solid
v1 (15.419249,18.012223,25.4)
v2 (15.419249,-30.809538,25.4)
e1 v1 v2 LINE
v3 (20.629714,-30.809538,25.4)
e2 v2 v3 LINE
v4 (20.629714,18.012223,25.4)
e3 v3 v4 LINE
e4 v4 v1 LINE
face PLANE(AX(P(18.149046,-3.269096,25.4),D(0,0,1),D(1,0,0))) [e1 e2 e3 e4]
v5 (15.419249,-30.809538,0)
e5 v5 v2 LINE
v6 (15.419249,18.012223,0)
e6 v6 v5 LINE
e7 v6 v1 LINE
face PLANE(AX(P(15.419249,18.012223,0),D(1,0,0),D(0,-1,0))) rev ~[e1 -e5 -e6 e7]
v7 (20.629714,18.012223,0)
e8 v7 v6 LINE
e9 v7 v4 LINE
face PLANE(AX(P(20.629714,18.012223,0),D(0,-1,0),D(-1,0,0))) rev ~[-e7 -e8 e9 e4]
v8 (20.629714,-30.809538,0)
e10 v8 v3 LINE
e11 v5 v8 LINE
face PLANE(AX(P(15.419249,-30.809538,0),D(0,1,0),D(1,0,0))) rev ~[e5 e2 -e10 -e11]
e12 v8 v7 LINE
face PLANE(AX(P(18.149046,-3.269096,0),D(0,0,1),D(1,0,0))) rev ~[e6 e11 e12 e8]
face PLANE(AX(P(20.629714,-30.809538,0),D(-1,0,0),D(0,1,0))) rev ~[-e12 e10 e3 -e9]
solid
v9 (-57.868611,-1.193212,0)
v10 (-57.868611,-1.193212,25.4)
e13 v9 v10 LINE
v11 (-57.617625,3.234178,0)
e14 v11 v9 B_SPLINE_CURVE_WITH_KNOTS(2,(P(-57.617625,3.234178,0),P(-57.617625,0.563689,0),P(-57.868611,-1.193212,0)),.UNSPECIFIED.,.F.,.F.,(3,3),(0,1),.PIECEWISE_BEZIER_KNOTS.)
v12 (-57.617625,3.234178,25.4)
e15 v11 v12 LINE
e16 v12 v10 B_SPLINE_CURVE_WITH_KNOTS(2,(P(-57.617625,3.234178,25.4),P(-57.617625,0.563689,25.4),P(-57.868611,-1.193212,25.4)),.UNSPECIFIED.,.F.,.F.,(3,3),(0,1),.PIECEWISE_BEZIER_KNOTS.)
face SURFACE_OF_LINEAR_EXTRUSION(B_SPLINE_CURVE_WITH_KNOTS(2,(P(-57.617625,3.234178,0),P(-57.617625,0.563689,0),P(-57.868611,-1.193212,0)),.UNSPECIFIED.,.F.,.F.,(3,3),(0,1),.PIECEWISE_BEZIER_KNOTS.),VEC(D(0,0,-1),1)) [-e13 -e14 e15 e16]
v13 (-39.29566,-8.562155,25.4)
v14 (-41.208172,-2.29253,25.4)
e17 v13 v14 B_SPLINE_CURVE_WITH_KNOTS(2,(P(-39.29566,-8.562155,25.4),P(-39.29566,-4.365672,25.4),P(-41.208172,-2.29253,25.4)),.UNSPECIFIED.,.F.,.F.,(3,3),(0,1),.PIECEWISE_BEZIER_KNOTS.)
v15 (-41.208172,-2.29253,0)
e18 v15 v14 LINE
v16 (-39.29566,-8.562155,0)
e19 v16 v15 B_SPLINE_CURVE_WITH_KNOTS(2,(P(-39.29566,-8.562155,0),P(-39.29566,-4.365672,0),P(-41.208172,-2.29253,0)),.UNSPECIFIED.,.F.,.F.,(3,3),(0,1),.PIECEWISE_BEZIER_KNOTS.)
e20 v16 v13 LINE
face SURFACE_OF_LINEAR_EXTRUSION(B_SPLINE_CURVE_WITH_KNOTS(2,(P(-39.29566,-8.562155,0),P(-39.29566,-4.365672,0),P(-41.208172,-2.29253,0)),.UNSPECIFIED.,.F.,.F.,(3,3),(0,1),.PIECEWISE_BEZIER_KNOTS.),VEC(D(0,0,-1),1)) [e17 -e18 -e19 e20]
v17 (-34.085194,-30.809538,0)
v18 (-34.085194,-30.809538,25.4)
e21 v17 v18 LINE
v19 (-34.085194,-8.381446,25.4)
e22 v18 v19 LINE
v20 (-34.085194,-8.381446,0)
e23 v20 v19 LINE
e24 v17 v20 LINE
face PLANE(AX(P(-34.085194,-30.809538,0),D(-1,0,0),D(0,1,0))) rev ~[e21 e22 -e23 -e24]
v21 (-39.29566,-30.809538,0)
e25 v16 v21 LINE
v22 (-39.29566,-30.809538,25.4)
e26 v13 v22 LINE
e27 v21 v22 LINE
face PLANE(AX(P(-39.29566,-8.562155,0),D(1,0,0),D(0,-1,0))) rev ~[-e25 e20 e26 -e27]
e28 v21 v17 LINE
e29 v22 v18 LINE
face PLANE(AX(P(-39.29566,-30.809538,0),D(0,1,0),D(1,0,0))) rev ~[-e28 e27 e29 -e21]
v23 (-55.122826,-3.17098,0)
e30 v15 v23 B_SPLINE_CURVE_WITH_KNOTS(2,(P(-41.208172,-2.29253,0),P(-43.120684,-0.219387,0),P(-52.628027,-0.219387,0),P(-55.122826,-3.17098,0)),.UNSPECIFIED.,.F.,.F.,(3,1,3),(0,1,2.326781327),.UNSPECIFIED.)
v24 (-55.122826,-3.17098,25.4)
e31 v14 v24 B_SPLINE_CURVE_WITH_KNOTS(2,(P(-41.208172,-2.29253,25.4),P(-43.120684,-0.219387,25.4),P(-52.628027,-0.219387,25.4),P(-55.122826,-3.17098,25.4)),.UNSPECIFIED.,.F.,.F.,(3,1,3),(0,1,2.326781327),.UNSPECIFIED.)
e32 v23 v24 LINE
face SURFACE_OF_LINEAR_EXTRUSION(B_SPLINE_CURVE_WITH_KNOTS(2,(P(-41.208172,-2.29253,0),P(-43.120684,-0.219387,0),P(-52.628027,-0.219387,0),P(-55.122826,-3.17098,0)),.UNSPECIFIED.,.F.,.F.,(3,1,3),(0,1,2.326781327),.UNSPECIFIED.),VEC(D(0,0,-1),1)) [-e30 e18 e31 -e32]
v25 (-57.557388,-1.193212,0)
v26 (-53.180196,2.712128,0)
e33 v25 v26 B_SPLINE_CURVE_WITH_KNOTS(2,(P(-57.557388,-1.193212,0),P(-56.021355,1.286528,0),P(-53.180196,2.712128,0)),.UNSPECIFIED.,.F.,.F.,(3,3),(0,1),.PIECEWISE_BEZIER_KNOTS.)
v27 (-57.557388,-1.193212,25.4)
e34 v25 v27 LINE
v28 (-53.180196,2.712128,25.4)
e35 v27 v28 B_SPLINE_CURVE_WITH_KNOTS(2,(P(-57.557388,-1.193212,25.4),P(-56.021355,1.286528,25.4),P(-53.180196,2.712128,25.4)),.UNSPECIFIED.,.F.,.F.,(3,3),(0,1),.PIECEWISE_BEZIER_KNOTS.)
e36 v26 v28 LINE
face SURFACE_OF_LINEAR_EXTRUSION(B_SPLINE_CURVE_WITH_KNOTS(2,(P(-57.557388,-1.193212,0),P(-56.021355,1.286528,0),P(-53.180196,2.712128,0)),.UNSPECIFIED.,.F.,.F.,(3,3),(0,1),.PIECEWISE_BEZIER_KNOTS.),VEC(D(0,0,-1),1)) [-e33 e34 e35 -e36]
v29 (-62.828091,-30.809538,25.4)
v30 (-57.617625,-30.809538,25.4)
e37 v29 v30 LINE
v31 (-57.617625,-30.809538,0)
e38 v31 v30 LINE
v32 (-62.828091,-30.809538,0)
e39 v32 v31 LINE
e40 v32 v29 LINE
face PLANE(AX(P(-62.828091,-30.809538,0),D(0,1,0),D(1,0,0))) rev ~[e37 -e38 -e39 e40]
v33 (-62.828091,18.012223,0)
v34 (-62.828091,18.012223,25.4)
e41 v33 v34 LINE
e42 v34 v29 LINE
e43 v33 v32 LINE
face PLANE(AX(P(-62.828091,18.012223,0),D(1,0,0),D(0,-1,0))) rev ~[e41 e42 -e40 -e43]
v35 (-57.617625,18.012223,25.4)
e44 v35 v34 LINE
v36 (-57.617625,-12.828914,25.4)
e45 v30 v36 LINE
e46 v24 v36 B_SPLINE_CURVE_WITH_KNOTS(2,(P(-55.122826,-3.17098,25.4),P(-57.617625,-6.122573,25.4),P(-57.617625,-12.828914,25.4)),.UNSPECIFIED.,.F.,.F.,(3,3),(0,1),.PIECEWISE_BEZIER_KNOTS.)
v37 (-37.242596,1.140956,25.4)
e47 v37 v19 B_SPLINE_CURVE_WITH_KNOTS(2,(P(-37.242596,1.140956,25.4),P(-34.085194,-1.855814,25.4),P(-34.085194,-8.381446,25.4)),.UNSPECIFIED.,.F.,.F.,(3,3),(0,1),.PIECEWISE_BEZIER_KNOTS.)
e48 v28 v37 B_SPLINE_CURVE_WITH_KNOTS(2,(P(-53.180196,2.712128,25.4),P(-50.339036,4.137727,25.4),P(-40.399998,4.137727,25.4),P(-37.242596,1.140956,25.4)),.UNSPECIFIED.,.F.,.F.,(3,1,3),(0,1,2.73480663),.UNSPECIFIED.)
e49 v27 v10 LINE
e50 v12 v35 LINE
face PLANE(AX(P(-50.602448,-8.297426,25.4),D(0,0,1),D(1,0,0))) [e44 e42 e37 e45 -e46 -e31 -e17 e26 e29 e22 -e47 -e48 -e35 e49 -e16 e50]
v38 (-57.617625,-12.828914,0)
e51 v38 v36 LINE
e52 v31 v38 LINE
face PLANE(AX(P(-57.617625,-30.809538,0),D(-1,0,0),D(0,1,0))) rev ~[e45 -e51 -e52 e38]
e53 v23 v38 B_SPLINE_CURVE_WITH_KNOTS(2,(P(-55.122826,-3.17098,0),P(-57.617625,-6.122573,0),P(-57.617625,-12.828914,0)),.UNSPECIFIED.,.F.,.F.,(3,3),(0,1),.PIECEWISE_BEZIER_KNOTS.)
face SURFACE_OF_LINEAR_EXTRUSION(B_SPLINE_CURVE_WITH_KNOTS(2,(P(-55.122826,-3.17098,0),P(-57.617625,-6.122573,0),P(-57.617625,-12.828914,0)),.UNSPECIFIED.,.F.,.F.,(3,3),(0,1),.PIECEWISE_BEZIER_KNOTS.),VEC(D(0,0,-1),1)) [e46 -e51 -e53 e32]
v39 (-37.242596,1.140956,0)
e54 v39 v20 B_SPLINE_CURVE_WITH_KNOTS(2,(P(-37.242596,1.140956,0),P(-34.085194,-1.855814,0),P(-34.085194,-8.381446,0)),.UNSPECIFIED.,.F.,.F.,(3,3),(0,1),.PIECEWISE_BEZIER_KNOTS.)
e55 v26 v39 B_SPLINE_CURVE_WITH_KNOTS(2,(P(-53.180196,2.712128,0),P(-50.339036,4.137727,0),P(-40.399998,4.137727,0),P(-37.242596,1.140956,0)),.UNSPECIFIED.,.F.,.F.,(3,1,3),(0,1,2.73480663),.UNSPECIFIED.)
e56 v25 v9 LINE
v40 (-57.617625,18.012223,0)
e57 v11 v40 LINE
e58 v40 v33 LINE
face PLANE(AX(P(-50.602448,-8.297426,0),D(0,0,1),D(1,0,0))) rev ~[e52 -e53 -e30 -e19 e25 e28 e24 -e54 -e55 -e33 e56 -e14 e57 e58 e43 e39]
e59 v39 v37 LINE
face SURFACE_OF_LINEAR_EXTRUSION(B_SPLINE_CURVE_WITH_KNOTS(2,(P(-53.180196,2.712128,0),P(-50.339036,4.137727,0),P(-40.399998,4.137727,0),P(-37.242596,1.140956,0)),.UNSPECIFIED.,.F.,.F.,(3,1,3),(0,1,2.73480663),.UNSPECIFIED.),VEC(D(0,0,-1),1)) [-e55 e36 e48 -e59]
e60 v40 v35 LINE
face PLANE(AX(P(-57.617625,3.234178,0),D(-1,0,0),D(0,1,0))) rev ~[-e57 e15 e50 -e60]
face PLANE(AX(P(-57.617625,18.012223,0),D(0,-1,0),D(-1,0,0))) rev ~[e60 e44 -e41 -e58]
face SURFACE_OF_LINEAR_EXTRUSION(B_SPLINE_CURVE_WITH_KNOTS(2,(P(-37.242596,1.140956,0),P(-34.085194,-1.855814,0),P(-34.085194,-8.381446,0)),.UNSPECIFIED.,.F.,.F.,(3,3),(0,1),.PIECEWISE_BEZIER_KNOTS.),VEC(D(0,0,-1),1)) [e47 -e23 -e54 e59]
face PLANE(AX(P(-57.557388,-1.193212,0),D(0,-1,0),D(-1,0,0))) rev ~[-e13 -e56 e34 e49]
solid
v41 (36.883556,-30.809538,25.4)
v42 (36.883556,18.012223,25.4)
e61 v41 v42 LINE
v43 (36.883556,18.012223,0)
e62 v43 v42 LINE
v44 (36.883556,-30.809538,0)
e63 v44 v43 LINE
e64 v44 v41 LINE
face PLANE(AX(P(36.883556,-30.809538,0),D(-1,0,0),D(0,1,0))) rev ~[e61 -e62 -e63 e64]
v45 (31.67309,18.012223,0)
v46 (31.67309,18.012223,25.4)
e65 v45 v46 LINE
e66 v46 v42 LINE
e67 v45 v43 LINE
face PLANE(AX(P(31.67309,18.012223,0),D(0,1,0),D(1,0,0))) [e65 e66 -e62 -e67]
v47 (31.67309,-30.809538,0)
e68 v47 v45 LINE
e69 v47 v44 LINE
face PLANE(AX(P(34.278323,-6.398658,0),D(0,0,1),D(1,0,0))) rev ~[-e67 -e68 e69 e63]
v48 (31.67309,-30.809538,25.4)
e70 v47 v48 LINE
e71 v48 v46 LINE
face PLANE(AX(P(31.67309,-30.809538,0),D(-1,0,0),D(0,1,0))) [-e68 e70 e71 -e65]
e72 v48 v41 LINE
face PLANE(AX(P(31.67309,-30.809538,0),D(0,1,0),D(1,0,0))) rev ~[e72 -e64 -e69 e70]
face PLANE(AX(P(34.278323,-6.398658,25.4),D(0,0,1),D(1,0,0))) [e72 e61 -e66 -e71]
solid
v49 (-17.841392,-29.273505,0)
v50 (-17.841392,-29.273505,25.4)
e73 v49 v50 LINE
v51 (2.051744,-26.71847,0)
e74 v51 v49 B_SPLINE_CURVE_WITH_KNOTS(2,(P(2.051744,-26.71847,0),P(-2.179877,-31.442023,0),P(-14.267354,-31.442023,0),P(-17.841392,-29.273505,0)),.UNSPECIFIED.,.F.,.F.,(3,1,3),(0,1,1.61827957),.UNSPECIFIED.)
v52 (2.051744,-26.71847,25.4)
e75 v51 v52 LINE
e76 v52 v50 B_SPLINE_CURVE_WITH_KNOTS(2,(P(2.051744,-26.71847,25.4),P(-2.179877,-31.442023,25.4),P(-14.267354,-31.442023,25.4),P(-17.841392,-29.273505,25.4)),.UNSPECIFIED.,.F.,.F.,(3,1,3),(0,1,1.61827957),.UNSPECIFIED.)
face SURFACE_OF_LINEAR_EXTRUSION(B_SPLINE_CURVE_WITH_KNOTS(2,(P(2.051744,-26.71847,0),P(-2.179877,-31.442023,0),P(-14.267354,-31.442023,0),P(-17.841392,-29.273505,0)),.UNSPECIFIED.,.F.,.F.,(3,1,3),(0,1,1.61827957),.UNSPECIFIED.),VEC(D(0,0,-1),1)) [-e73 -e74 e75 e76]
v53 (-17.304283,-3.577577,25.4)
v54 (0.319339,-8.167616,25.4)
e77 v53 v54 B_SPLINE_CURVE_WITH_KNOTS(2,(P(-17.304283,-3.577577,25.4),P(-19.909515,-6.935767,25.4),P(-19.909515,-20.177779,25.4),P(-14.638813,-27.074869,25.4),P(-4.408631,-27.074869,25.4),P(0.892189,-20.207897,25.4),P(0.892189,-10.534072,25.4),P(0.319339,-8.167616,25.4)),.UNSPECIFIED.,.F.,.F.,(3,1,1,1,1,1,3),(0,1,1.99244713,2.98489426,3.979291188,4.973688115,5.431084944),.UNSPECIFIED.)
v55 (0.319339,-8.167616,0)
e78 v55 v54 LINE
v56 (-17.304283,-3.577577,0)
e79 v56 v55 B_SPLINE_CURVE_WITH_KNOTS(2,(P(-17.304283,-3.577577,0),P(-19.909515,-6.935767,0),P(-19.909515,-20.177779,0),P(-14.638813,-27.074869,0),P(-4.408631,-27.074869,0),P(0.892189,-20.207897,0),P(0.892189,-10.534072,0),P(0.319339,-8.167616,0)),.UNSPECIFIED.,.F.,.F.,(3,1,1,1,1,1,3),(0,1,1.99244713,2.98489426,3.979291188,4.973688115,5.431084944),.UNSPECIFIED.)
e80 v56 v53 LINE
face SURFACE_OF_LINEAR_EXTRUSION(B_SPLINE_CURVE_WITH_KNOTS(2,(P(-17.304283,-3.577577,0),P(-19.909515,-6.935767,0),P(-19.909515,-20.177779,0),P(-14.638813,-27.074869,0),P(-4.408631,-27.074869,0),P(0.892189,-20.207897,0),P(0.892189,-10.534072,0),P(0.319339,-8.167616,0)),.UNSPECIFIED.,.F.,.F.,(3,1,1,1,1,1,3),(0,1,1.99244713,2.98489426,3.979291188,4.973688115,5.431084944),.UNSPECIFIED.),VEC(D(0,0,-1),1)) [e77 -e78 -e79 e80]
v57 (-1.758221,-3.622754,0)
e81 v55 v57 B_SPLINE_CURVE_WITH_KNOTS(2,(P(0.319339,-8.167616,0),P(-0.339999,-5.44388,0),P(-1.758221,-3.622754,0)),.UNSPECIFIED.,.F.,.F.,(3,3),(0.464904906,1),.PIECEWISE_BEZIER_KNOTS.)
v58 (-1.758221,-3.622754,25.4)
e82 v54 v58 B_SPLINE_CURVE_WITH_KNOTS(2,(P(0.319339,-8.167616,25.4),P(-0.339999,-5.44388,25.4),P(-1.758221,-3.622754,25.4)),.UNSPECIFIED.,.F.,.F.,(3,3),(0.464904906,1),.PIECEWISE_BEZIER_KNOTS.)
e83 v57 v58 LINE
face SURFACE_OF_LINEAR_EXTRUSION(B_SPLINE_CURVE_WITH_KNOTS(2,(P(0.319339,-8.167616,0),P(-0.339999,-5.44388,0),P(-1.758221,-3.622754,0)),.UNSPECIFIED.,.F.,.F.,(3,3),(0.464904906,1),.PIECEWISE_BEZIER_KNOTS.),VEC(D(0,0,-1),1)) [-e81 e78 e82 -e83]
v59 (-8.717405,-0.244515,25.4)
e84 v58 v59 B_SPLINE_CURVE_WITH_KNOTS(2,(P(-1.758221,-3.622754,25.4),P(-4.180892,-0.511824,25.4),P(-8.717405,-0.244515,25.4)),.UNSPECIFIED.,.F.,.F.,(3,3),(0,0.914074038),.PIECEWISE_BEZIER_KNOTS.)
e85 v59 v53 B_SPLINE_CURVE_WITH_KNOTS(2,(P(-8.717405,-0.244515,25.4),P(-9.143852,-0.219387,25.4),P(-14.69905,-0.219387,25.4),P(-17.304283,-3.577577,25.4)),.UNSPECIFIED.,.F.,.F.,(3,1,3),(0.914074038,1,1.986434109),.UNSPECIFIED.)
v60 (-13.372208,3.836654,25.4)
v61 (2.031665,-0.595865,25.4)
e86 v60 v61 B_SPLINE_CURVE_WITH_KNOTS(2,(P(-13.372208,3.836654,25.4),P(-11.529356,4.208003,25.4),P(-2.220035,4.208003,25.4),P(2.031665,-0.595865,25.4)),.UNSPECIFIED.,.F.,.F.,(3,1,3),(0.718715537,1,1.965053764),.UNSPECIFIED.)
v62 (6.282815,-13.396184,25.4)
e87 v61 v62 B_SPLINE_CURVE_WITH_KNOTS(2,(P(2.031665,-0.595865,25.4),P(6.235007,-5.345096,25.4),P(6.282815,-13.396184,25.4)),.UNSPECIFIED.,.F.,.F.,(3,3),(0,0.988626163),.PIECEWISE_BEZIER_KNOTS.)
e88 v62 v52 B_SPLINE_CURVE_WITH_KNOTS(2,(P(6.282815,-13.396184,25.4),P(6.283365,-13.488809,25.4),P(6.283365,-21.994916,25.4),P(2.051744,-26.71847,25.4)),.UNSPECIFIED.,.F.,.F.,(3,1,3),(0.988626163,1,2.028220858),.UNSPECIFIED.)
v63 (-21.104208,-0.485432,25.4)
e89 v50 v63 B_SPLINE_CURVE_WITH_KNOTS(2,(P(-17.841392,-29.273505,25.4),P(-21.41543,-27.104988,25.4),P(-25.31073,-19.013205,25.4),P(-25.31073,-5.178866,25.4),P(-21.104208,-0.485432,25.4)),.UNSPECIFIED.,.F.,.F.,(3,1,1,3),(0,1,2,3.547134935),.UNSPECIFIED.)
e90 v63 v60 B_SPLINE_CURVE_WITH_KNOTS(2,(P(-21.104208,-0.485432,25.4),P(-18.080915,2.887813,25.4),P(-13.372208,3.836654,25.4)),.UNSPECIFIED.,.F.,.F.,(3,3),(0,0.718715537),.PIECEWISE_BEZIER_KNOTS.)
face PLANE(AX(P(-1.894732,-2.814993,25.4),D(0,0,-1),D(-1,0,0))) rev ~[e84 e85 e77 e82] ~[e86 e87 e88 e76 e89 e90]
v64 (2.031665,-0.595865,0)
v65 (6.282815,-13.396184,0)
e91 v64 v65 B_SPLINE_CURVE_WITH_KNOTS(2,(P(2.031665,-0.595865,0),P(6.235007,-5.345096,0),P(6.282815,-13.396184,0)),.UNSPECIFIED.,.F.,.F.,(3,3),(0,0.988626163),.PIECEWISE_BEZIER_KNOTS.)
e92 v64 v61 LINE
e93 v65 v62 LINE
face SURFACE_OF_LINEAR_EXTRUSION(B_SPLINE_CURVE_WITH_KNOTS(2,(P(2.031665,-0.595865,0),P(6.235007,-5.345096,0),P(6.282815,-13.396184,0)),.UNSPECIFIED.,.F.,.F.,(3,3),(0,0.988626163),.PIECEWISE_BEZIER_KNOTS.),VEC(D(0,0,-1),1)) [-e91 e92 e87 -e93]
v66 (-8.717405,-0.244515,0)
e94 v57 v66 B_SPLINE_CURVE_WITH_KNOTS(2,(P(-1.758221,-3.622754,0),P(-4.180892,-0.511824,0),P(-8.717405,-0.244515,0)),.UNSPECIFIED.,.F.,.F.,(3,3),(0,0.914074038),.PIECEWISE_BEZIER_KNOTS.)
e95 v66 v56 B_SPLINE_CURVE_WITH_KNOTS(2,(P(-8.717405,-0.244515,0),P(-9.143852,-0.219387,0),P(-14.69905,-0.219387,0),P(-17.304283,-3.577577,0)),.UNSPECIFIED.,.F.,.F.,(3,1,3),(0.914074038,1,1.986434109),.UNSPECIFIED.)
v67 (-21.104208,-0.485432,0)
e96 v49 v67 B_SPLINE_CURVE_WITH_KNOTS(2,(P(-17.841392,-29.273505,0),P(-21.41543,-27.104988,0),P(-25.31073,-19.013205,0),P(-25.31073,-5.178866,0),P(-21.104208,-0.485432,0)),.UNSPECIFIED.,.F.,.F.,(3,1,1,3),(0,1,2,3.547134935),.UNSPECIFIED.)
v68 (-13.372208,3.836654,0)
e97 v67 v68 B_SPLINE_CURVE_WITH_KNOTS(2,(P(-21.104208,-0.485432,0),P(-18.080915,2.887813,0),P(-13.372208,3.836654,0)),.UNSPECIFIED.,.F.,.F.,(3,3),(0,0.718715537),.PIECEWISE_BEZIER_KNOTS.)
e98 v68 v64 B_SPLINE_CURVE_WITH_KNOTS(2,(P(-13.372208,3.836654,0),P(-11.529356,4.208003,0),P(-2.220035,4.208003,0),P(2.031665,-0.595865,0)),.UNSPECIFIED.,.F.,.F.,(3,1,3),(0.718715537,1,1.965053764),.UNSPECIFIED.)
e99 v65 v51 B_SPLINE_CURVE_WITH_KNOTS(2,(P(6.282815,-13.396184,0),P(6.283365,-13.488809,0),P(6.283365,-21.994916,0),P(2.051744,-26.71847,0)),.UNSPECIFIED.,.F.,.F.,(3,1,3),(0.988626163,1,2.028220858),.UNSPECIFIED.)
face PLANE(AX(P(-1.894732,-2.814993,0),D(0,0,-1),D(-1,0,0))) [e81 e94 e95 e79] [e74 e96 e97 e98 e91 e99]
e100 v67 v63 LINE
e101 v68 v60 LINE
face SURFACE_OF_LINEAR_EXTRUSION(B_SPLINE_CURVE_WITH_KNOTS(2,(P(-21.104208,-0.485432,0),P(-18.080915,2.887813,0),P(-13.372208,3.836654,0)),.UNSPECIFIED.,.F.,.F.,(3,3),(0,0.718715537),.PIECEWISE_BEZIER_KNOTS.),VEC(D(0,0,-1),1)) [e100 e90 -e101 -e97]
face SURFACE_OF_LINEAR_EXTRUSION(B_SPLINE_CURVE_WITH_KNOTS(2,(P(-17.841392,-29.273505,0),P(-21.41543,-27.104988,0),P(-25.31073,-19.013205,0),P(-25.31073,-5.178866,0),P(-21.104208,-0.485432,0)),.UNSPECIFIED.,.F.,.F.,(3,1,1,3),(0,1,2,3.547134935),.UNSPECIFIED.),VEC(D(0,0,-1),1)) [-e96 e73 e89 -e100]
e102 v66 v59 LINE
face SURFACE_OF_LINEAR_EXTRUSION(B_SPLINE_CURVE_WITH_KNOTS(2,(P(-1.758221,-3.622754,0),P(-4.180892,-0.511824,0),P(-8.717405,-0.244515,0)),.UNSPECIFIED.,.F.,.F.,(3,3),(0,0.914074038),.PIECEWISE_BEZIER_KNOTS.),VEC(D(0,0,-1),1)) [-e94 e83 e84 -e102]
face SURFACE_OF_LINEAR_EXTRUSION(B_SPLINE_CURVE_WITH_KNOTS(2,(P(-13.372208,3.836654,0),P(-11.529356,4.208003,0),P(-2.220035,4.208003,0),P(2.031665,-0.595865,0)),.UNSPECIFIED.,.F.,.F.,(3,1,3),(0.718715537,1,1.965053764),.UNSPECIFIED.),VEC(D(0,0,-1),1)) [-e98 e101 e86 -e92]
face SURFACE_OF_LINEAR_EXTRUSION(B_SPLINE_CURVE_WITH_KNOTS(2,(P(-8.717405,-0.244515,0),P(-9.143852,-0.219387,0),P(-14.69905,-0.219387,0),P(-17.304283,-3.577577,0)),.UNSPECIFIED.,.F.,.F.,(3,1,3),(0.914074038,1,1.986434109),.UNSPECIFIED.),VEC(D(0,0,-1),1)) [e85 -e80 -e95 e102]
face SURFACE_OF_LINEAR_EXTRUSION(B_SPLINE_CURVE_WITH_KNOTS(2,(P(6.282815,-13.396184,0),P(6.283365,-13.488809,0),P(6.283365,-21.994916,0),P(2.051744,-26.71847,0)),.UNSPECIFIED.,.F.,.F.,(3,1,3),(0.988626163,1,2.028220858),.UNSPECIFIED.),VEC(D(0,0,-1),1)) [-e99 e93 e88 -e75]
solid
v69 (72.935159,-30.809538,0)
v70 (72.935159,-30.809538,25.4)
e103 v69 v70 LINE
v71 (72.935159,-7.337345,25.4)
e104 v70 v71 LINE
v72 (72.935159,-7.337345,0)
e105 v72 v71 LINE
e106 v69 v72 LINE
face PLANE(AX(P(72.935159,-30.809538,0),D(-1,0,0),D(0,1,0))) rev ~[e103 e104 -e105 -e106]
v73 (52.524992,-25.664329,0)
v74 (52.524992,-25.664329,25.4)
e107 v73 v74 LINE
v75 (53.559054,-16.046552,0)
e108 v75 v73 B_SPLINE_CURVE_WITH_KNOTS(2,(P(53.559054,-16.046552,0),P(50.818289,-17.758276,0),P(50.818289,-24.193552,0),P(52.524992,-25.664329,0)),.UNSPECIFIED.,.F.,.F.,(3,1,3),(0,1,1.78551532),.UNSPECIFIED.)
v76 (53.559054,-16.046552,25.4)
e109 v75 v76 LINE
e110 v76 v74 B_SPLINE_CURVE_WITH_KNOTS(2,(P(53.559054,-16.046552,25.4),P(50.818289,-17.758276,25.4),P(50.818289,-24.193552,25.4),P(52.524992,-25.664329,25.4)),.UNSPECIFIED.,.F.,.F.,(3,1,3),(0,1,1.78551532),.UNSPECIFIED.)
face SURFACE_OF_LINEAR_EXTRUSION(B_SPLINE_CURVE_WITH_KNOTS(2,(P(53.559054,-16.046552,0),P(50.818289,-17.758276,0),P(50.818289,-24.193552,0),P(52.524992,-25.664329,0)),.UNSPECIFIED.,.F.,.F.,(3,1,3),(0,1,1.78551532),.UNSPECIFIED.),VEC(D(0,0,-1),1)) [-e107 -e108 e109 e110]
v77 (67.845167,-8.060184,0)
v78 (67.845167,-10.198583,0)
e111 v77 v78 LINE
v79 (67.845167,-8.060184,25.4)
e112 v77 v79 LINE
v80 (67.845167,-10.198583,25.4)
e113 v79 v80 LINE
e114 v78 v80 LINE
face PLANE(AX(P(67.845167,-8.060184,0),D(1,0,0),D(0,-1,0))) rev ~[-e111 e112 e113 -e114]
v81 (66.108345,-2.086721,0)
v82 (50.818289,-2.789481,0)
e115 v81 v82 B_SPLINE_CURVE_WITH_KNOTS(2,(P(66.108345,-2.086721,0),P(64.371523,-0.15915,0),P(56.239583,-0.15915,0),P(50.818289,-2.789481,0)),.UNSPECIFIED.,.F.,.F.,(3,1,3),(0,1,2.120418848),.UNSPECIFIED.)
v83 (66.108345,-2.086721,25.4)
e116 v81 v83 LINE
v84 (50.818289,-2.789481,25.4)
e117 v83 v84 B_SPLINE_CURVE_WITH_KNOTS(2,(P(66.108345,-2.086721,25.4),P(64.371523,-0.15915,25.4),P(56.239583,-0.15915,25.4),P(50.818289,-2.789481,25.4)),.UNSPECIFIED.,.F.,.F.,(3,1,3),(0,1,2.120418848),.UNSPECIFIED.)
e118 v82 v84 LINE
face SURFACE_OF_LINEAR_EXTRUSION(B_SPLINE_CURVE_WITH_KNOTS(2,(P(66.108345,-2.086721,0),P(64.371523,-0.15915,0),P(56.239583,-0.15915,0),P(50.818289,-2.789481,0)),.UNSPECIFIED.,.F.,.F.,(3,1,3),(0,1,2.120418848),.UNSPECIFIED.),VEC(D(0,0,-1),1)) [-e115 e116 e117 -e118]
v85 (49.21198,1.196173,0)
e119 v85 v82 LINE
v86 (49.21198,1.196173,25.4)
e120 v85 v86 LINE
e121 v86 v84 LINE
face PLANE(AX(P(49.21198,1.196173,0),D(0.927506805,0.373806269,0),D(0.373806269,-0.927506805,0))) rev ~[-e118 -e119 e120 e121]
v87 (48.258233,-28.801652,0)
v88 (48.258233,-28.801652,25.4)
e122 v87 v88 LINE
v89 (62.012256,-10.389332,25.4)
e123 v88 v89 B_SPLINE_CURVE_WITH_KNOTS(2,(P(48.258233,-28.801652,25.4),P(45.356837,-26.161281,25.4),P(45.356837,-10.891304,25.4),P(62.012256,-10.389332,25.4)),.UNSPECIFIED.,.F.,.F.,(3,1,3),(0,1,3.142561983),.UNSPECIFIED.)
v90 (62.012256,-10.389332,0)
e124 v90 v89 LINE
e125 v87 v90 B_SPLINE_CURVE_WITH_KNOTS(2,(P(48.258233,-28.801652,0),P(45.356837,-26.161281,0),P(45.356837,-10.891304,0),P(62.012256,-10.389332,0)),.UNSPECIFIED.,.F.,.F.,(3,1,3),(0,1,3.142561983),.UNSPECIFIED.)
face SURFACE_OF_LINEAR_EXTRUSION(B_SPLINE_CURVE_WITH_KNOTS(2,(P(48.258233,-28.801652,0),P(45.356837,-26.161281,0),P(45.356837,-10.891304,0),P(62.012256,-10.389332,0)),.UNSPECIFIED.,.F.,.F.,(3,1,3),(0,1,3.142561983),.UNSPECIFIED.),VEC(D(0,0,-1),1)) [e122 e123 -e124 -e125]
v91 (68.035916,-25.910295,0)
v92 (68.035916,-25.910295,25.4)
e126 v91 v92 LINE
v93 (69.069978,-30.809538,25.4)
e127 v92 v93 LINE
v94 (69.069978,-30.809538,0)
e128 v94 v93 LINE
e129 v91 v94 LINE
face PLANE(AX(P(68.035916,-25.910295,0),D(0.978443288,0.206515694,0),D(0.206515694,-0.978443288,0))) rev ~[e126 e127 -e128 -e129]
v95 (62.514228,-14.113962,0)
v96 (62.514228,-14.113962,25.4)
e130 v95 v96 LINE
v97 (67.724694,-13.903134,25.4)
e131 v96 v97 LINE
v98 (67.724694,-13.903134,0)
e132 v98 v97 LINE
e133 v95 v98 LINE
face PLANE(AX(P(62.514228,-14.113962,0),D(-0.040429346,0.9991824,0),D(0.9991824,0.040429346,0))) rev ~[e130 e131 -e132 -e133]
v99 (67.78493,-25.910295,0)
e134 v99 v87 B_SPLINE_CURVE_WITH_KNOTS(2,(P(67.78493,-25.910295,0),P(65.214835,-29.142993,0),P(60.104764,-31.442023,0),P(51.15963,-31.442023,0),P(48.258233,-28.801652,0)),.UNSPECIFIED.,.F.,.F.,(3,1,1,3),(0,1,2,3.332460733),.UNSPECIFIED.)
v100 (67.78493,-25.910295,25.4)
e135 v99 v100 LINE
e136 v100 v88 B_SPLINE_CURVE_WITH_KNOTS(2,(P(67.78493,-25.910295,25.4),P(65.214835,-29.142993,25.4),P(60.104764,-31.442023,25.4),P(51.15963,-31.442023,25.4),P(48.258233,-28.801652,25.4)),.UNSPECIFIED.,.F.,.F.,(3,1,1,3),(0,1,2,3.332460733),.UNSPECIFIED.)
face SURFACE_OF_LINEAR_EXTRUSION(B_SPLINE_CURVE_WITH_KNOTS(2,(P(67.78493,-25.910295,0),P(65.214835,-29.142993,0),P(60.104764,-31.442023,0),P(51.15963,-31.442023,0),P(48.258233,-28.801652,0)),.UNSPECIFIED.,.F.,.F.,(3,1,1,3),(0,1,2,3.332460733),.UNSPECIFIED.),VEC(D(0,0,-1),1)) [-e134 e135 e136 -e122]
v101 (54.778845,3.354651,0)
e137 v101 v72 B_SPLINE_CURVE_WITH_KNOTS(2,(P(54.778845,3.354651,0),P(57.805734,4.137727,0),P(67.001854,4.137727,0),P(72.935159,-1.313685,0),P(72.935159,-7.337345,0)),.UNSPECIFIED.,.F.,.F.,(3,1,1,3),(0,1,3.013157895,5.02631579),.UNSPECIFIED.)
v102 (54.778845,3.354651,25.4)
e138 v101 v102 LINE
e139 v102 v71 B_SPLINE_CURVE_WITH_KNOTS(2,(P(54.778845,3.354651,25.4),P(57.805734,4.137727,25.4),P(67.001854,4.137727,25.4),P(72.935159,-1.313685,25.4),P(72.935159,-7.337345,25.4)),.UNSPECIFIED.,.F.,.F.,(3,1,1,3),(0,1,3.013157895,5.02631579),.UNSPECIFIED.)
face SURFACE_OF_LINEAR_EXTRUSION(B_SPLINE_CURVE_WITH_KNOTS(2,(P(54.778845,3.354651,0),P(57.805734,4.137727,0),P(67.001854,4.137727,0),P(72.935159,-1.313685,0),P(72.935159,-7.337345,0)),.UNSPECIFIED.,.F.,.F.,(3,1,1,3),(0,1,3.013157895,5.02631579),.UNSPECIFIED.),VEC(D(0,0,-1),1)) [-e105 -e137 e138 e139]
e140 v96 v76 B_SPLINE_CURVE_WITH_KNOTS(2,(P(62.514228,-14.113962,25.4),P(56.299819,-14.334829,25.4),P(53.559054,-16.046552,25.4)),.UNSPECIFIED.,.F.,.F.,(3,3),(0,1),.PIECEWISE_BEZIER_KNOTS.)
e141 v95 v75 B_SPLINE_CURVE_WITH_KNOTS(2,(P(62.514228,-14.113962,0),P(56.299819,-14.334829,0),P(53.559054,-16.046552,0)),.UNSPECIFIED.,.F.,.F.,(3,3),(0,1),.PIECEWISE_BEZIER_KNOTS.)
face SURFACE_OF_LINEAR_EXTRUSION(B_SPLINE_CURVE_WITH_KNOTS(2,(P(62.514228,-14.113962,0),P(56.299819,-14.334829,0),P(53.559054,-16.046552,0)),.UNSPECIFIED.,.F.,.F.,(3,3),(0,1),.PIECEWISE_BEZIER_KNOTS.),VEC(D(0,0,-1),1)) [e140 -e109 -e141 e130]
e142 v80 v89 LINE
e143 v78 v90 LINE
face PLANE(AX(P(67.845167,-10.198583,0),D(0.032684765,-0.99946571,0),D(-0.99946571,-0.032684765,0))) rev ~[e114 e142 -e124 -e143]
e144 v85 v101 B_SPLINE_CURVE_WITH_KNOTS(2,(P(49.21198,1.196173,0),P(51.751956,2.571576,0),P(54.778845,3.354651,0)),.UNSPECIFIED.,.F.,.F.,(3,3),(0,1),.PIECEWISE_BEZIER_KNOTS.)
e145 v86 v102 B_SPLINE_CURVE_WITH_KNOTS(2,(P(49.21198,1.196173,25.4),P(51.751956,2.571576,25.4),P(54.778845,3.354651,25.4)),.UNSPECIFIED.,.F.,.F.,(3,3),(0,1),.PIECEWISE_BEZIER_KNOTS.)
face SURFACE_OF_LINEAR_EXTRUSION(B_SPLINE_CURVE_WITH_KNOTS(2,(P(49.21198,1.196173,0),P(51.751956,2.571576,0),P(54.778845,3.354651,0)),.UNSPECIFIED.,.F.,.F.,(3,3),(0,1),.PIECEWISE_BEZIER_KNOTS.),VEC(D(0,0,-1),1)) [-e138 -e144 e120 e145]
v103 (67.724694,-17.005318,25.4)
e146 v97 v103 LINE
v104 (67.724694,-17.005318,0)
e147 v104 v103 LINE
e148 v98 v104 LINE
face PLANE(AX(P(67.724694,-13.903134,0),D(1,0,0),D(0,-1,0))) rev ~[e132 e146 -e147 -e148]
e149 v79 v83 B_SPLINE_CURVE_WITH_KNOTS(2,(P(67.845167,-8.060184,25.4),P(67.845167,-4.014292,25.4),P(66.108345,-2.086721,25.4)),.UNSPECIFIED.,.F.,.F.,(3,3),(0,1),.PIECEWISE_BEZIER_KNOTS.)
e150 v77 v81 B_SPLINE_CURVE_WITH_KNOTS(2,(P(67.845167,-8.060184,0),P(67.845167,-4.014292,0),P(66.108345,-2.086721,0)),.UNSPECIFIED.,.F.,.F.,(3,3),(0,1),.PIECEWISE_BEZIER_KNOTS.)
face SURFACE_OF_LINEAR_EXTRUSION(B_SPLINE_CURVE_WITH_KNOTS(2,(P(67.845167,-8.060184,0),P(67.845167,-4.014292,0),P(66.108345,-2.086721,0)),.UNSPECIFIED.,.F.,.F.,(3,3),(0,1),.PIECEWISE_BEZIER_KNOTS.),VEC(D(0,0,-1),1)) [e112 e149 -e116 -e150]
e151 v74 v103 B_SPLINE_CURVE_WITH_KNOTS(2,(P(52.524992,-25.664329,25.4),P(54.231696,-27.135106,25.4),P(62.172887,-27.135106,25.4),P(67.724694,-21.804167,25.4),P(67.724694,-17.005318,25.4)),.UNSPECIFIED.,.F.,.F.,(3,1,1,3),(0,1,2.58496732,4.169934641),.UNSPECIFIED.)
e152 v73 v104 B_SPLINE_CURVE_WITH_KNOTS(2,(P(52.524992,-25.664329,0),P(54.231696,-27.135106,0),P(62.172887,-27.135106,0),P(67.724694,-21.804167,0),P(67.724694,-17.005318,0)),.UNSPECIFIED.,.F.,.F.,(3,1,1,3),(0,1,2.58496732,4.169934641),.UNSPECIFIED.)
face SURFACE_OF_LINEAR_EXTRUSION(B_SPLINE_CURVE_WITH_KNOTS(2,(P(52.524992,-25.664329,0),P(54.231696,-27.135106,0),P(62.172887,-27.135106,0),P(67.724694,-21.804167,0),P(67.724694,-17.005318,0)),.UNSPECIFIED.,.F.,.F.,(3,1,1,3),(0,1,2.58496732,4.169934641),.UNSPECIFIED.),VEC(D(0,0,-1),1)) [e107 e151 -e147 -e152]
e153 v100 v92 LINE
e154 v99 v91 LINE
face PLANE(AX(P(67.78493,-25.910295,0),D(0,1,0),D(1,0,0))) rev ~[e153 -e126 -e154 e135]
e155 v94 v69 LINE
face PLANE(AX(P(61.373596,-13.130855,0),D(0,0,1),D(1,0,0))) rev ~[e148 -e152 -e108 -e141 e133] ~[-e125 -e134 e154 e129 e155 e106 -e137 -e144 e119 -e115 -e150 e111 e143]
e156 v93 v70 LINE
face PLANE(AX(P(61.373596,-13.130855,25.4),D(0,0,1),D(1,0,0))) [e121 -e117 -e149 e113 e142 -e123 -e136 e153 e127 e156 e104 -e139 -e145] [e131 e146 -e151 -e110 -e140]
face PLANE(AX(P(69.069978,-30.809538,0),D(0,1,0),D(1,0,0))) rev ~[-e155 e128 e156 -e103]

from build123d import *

# Parameters (mm, degrees)
F0_W     = 5.2104656285
F0_H     = 48.8217617561
F1_DEPTH = 25.4


with BuildPart() as f1:
    # F0 (on Top) → F1 (new body)
    with BuildSketch(Plane.XY):
        with BuildLine():
            add(Edge.make_bspline(
                [(-13.3722078844, 3.8366541831), (-11.5293562231, 4.2080032031), (-9.428347489, 4.2080032031)],
                knots=[0.7187155366, 0.7187155366, 0.7187155366, 1, 1, 1], degree=2))
            Line((-13.3722078844, 3.8366541831), (-8.7174049676, -0.2445146523))
            add(Edge.make_bspline(
                [(-1.758220822, -3.6227543888), (-4.180892032, -0.5118243123), (-8.7174049676, -0.2445146523)],
                knots=[0, 0, 0, 0.9140740378, 0.9140740378, 0.9140740378], degree=2))
            add(Edge.make_bspline(
                [(0.3193388525, -8.1676164271), (-0.3399992938, -5.4438797604), (-1.758220822, -3.6227543888)],
                knots=[0.464904906, 0.464904906, 0.464904906, 1, 1, 1], degree=2))
            Line((0.3193388525, -8.1676164271), (6.2828148414, -13.3961841648))
            add(Edge.make_bspline(
                [(2.0316650638, -0.5958653966), (6.2350067194, -5.3450955788), (6.2828148414, -13.3961841648)],
                knots=[0, 0, 0, 0.9886261632, 0.9886261632, 0.9886261632], degree=2))
            add(Edge.make_bspline(
                [(-9.428347489, 4.2080032031), (-2.2200347313, 4.2080032031), (2.0316650638, -0.5958653966)],
                knots=[0, 0, 0, 1, 1, 1], degree=2))
        make_face()
        with BuildLine():
            Line((-8.7174049676, -0.2445146523), (-13.3722078844, 3.8366541831))
            add(Edge.make_bspline(
                [(-21.1042078473, -0.4854316357), (-18.080914881, 2.8878129032), (-13.3722078844, 3.8366541831)],
                knots=[0, 0, 0, 0.7187155366, 0.7187155366, 0.7187155366], degree=2))
            add(Edge.make_bspline(
                [(-25.3107301948, -13.5818717366), (-25.3107301948, -5.1788664744), (-21.1042078473, -0.4854316357)],
                knots=[0, 0, 0, 1, 1, 1], degree=2))
            add(Edge.make_bspline(
                [(-23.3630802296, -23.0590963094), (-25.3107301948, -19.0132048869), (-25.3107301948, -13.5818717366)],
                knots=[0, 0, 0, 1, 1, 1], degree=2))
            add(Edge.make_bspline(
                [(-17.841392184, -29.273505219), (-21.4154302644, -27.1049877319), (-23.3630802296, -23.0590963094)],
                knots=[0, 0, 0, 1, 1, 1], degree=2))
            add(Edge.make_bspline(
                [(-9.6492150108, -31.442022706), (-14.2673541035, -31.442022706), (-17.841392184, -29.273505219)],
                knots=[0, 0, 0, 1, 1, 1], degree=2))
            add(Edge.make_bspline(
                [(2.0517439295, -26.7184695688), (-2.179877, -31.442022706), (-9.6492150108, -31.442022706)],
                knots=[0, 0, 0, 1, 1, 1], degree=2))
            add(Edge.make_bspline(
                [(6.283364859, -13.5818717366), (6.283364859, -21.9949164315), (2.0517439295, -26.7184695688)],
                knots=[0, 0, 0, 1, 1, 1], degree=2))
            add(Edge.make_bspline(
                [(6.2828148414, -13.3961841648), (6.283364859, -13.4888094372), (6.283364859, -13.5818717366)],
                knots=[0.9886261632, 0.9886261632, 0.9886261632, 1, 1, 1], degree=2))
            Line((6.2828148414, -13.3961841648), (0.3193388525, -8.1676164271))
            add(Edge.make_bspline(
                [(0.8921894399, -13.5818717366), (0.8921894399, -10.5340715734), (0.3193388525, -8.1676164271)],
                knots=[0, 0, 0, 0.464904906, 0.464904906, 0.464904906], degree=2))
            add(Edge.make_bspline(
                [(-1.758220822, -23.6413834124), (0.8921894399, -20.2078973913), (0.8921894399, -13.5818717366)],
                knots=[0, 0, 0, 1, 1, 1], degree=2))
            add(Edge.make_bspline(
                [(-9.5287418171, -27.0748694335), (-4.4086310839, -27.0748694335), (-1.758220822, -23.6413834124)],
                knots=[0, 0, 0, 1, 1, 1], degree=2))
            add(Edge.make_bspline(
                [(-17.2741642302, -23.6263242632), (-14.6388131175, -27.0748694335), (-9.5287418171, -27.0748694335)],
                knots=[0, 0, 0, 1, 1, 1], degree=2))
            add(Edge.make_bspline(
                [(-19.9095153429, -13.5818717366), (-19.9095153429, -20.1777790929), (-17.2741642302, -23.6263242632)],
                knots=[0, 0, 0, 1, 1, 1], degree=2))
            add(Edge.make_bspline(
                [(-17.3042825286, -3.5775769412), (-19.9095153429, -6.9357672162), (-19.9095153429, -13.5818717366)],
                knots=[0, 0, 0, 1, 1, 1], degree=2))
            add(Edge.make_bspline(
                [(-9.588978414, -0.2193866662), (-14.6990497144, -0.2193866662), (-17.3042825286, -3.5775769412)],
                knots=[0, 0, 0, 1, 1, 1], degree=2))
            add(Edge.make_bspline(
                [(-8.7174049676, -0.2445146523), (-9.1438520853, -0.2193866662), (-9.588978414, -0.2193866662)],
                knots=[0.9140740378, 0.9140740378, 0.9140740378, 1, 1, 1], degree=2))
        make_face()
        Polygon((15.4192487163, 18.0122233172), (15.4192487163, -21.4066907024), (20.6297143448, -25.9750452216), (20.6297143448, 18.0122233172), align=None)
        Polygon((20.6297143448, -25.9750452216), (15.4192487163, -21.4066907024), (15.4192487163, -30.8095384389), (20.6297143448, -30.8095384389), align=None)
        with BuildLine():
            Line((-39.2956600994, -8.5621553315), (-39.2956600994, -30.8095384389))
            Line((-39.2956600994, -30.8095384389), (-34.0851944709, -30.8095384389))
            Line((-34.0851944709, -30.8095384389), (-34.0851944709, -8.3814455409))
            add(Edge.make_bspline(
                [(-37.2425960897, 1.1409564796), (-34.0851944709, -1.8558142142), (-34.0851944709, -8.3814455409)],
                knots=[0, 0, 0, 1, 1, 1], degree=2))
            add(Edge.make_bspline(
                [(-46.7047615134, 4.1377271735), (-40.3999977085, 4.1377271735), (-37.2425960897, 1.1409564796)],
                knots=[0, 0, 0, 1, 1, 1], degree=2))
            add(Edge.make_bspline(
                [(-53.180195676, 2.7121277144), (-50.3390361907, 4.1377271735), (-46.7047615134, 4.1377271735)],
                knots=[0, 0, 0, 1, 1, 1], degree=2))
            add(Edge.make_bspline(
                [(-57.5573883812, -1.1932116488), (-56.0213551612, 1.2865282554), (-53.180195676, 2.7121277144)],
                knots=[0, 0, 0, 1, 1, 1], degree=2))
            Line((-57.5573883812, -1.1932116488), (-57.8686107983, -1.1932116488))
            add(Edge.make_bspline(
                [(-57.6176249781, 3.2341782205), (-57.6176249781, 0.563689093), (-57.8686107983, -1.1932116488)],
                knots=[0, 0, 0, 1, 1, 1], degree=2))
            Line((-57.6176249781, 3.2341782205), (-57.6176249781, 18.0122233172))
            Line((-57.6176249781, 18.0122233172), (-62.8280906066, 18.0122233172))
            Line((-62.8280906066, 18.0122233172), (-62.8280906066, -30.8095384389))
            Line((-62.8280906066, -30.8095384389), (-57.6176249781, -30.8095384389))
            Line((-57.6176249781, -30.8095384389), (-57.6176249781, -12.8289142758))
            add(Edge.make_bspline(
                [(-55.1228259247, -3.1709799124), (-57.6176249781, -6.1225731586), (-57.6176249781, -12.8289142758)],
                knots=[0, 0, 0, 1, 1, 1], degree=2))
            add(Edge.make_bspline(
                [(-47.2067331539, -0.2193866662), (-52.6280268714, -0.2193866662), (-55.1228259247, -3.1709799124)],
                knots=[0, 0, 0, 1, 1, 1], degree=2))
            add(Edge.make_bspline(
                [(-41.2081720498, -2.2925295415), (-43.1206840001, -0.2193866662), (-47.2067331539, -0.2193866662)],
                knots=[0, 0, 0, 1, 1, 1], degree=2))
            add(Edge.make_bspline(
                [(-39.2956600994, -8.5621553315), (-39.2956600994, -4.3656724168), (-41.2081720498, -2.2925295415)],
                knots=[0, 0, 0, 1, 1, 1], degree=2))
        make_face()
        with Locations((34.2783232503, -6.3986575609)):
            Rectangle(F0_W, F0_H)
        with BuildLine():
            Line((68.0359160746, -25.9102952275), (69.0699776541, -30.8095384389))
            Line((69.0699776541, -30.8095384389), (72.935159286, -30.8095384389))
            Line((72.935159286, -30.8095384389), (72.935159286, -7.3373445286))
            add(Edge.make_bspline(
                [(69.9685068906, 1.4120211655), (72.935159286, -1.3136848425), (72.935159286, -7.3373445286)],
                knots=[0, 0, 0, 1, 1, 1], degree=2))
            add(Edge.make_bspline(
                [(60.8577216153, 4.1377271735), (67.0018544952, 4.1377271735), (69.9685068906, 1.4120211655)],
                knots=[0, 0, 0, 1, 1, 1], degree=2))
            add(Edge.make_bspline(
                [(54.7788450487, 3.3546514143), (57.805734041, 4.1377271735), (60.8577216153, 4.1377271735)],
                knots=[0, 0, 0, 1, 1, 1], degree=2))
            add(Edge.make_bspline(
                [(49.2119795555, 1.1961733601), (51.7519560565, 2.5715756551), (54.7788450487, 3.3546514143)],
                knots=[0, 0, 0, 1, 1, 1], degree=2))
            Line((49.2119795555, 1.1961733601), (50.8182888051, -2.7894814656))
            add(Edge.make_bspline(
                [(60.5364597654, -0.1591500693), (56.2395825226, -0.1591500693), (50.8182888051, -2.7894814656)],
                knots=[0, 0, 0, 1, 1, 1], degree=2))
            add(Edge.make_bspline(
                [(66.1083449751, -2.0867211689), (64.3715230989, -0.1591500693), (60.5364597654, -0.1591500693)],
                knots=[0, 0, 0, 1, 1, 1], degree=2))
            add(Edge.make_bspline(
                [(67.8451668512, -8.060183691), (67.8451668512, -4.0142922684), (66.1083449751, -2.0867211689)],
                knots=[0, 0, 0, 1, 1, 1], degree=2))
            Line((67.8451668512, -8.060183691), (67.8451668512, -10.1985828795))
            Line((67.8451668512, -10.1985828795), (62.0122563885, -10.3893321029))
            add(Edge.make_bspline(
                [(45.3568373563, -21.3021955676), (45.3568373563, -10.8913037434), (62.0122563885, -10.3893321029)],
                knots=[0, 0, 0, 1, 1, 1], degree=2))
            add(Edge.make_bspline(
                [(48.2582334385, -28.8016518769), (45.3568373563, -26.1612810478), (45.3568373563, -21.3021955676)],
                knots=[0, 0, 0, 1, 1, 1], degree=2))
            add(Edge.make_bspline(
                [(56.2697008211, -31.442022706), (51.1596295206, -31.442022706), (48.2582334385, -28.8016518769)],
                knots=[0, 0, 0, 1, 1, 1], degree=2))
            add(Edge.make_bspline(
                [(62.6597998048, -30.2925076492), (60.1047641546, -31.442022706), (56.2697008211, -31.442022706)],
                knots=[0, 0, 0, 1, 1, 1], degree=2))
            add(Edge.make_bspline(
                [(67.7849302544, -25.9102952275), (65.214835455, -29.1429925924), (62.6597998048, -30.2925076492)],
                knots=[0, 0, 0, 1, 1, 1], degree=2))
            Line((67.7849302544, -25.9102952275), (68.0359160746, -25.9102952275))
        make_face()
        with BuildLine():
            add(Edge.make_bspline(
                [(57.3037624005, -27.1351060304), (62.1728873135, -27.1351060304), (64.9487904855, -24.4696366193)],
                knots=[0, 0, 0, 1, 1, 1], degree=2))
            add(Edge.make_bspline(
                [(52.5249923828, -25.6643291237), (54.2316959606, -27.1351060304), (57.3037624005, -27.1351060304)],
                knots=[0, 0, 0, 1, 1, 1], degree=2))
            add(Edge.make_bspline(
                [(50.8182888051, -21.3624321645), (50.8182888051, -24.193552217), (52.5249923828, -25.6643291237)],
                knots=[0, 0, 0, 1, 1, 1], degree=2))
            add(Edge.make_bspline(
                [(53.5590539623, -16.0465524915), (50.8182888051, -17.7582757856), (50.8182888051, -21.3624321645)],
                knots=[0, 0, 0, 1, 1, 1], degree=2))
            add(Edge.make_bspline(
                [(62.514228029, -14.1139616755), (56.2998191195, -14.3348291973), (53.5590539623, -16.0465524915)],
                knots=[0, 0, 0, 1, 1, 1], degree=2))
            Line((62.514228029, -14.1139616755), (67.7246936575, -13.9031335865))
            Line((67.7246936575, -13.9031335865), (67.7246936575, -17.0053183249))
            add(Edge.make_bspline(
                [(64.9487904855, -24.4696366193), (67.7246936575, -21.8041672082), (67.7246936575, -17.0053183249)],
                knots=[0, 0, 0, 1, 1, 1], degree=2))
        make_face(mode=Mode.SUBTRACT)
    extrude(amount=F1_DEPTH)


solid = f1.part
